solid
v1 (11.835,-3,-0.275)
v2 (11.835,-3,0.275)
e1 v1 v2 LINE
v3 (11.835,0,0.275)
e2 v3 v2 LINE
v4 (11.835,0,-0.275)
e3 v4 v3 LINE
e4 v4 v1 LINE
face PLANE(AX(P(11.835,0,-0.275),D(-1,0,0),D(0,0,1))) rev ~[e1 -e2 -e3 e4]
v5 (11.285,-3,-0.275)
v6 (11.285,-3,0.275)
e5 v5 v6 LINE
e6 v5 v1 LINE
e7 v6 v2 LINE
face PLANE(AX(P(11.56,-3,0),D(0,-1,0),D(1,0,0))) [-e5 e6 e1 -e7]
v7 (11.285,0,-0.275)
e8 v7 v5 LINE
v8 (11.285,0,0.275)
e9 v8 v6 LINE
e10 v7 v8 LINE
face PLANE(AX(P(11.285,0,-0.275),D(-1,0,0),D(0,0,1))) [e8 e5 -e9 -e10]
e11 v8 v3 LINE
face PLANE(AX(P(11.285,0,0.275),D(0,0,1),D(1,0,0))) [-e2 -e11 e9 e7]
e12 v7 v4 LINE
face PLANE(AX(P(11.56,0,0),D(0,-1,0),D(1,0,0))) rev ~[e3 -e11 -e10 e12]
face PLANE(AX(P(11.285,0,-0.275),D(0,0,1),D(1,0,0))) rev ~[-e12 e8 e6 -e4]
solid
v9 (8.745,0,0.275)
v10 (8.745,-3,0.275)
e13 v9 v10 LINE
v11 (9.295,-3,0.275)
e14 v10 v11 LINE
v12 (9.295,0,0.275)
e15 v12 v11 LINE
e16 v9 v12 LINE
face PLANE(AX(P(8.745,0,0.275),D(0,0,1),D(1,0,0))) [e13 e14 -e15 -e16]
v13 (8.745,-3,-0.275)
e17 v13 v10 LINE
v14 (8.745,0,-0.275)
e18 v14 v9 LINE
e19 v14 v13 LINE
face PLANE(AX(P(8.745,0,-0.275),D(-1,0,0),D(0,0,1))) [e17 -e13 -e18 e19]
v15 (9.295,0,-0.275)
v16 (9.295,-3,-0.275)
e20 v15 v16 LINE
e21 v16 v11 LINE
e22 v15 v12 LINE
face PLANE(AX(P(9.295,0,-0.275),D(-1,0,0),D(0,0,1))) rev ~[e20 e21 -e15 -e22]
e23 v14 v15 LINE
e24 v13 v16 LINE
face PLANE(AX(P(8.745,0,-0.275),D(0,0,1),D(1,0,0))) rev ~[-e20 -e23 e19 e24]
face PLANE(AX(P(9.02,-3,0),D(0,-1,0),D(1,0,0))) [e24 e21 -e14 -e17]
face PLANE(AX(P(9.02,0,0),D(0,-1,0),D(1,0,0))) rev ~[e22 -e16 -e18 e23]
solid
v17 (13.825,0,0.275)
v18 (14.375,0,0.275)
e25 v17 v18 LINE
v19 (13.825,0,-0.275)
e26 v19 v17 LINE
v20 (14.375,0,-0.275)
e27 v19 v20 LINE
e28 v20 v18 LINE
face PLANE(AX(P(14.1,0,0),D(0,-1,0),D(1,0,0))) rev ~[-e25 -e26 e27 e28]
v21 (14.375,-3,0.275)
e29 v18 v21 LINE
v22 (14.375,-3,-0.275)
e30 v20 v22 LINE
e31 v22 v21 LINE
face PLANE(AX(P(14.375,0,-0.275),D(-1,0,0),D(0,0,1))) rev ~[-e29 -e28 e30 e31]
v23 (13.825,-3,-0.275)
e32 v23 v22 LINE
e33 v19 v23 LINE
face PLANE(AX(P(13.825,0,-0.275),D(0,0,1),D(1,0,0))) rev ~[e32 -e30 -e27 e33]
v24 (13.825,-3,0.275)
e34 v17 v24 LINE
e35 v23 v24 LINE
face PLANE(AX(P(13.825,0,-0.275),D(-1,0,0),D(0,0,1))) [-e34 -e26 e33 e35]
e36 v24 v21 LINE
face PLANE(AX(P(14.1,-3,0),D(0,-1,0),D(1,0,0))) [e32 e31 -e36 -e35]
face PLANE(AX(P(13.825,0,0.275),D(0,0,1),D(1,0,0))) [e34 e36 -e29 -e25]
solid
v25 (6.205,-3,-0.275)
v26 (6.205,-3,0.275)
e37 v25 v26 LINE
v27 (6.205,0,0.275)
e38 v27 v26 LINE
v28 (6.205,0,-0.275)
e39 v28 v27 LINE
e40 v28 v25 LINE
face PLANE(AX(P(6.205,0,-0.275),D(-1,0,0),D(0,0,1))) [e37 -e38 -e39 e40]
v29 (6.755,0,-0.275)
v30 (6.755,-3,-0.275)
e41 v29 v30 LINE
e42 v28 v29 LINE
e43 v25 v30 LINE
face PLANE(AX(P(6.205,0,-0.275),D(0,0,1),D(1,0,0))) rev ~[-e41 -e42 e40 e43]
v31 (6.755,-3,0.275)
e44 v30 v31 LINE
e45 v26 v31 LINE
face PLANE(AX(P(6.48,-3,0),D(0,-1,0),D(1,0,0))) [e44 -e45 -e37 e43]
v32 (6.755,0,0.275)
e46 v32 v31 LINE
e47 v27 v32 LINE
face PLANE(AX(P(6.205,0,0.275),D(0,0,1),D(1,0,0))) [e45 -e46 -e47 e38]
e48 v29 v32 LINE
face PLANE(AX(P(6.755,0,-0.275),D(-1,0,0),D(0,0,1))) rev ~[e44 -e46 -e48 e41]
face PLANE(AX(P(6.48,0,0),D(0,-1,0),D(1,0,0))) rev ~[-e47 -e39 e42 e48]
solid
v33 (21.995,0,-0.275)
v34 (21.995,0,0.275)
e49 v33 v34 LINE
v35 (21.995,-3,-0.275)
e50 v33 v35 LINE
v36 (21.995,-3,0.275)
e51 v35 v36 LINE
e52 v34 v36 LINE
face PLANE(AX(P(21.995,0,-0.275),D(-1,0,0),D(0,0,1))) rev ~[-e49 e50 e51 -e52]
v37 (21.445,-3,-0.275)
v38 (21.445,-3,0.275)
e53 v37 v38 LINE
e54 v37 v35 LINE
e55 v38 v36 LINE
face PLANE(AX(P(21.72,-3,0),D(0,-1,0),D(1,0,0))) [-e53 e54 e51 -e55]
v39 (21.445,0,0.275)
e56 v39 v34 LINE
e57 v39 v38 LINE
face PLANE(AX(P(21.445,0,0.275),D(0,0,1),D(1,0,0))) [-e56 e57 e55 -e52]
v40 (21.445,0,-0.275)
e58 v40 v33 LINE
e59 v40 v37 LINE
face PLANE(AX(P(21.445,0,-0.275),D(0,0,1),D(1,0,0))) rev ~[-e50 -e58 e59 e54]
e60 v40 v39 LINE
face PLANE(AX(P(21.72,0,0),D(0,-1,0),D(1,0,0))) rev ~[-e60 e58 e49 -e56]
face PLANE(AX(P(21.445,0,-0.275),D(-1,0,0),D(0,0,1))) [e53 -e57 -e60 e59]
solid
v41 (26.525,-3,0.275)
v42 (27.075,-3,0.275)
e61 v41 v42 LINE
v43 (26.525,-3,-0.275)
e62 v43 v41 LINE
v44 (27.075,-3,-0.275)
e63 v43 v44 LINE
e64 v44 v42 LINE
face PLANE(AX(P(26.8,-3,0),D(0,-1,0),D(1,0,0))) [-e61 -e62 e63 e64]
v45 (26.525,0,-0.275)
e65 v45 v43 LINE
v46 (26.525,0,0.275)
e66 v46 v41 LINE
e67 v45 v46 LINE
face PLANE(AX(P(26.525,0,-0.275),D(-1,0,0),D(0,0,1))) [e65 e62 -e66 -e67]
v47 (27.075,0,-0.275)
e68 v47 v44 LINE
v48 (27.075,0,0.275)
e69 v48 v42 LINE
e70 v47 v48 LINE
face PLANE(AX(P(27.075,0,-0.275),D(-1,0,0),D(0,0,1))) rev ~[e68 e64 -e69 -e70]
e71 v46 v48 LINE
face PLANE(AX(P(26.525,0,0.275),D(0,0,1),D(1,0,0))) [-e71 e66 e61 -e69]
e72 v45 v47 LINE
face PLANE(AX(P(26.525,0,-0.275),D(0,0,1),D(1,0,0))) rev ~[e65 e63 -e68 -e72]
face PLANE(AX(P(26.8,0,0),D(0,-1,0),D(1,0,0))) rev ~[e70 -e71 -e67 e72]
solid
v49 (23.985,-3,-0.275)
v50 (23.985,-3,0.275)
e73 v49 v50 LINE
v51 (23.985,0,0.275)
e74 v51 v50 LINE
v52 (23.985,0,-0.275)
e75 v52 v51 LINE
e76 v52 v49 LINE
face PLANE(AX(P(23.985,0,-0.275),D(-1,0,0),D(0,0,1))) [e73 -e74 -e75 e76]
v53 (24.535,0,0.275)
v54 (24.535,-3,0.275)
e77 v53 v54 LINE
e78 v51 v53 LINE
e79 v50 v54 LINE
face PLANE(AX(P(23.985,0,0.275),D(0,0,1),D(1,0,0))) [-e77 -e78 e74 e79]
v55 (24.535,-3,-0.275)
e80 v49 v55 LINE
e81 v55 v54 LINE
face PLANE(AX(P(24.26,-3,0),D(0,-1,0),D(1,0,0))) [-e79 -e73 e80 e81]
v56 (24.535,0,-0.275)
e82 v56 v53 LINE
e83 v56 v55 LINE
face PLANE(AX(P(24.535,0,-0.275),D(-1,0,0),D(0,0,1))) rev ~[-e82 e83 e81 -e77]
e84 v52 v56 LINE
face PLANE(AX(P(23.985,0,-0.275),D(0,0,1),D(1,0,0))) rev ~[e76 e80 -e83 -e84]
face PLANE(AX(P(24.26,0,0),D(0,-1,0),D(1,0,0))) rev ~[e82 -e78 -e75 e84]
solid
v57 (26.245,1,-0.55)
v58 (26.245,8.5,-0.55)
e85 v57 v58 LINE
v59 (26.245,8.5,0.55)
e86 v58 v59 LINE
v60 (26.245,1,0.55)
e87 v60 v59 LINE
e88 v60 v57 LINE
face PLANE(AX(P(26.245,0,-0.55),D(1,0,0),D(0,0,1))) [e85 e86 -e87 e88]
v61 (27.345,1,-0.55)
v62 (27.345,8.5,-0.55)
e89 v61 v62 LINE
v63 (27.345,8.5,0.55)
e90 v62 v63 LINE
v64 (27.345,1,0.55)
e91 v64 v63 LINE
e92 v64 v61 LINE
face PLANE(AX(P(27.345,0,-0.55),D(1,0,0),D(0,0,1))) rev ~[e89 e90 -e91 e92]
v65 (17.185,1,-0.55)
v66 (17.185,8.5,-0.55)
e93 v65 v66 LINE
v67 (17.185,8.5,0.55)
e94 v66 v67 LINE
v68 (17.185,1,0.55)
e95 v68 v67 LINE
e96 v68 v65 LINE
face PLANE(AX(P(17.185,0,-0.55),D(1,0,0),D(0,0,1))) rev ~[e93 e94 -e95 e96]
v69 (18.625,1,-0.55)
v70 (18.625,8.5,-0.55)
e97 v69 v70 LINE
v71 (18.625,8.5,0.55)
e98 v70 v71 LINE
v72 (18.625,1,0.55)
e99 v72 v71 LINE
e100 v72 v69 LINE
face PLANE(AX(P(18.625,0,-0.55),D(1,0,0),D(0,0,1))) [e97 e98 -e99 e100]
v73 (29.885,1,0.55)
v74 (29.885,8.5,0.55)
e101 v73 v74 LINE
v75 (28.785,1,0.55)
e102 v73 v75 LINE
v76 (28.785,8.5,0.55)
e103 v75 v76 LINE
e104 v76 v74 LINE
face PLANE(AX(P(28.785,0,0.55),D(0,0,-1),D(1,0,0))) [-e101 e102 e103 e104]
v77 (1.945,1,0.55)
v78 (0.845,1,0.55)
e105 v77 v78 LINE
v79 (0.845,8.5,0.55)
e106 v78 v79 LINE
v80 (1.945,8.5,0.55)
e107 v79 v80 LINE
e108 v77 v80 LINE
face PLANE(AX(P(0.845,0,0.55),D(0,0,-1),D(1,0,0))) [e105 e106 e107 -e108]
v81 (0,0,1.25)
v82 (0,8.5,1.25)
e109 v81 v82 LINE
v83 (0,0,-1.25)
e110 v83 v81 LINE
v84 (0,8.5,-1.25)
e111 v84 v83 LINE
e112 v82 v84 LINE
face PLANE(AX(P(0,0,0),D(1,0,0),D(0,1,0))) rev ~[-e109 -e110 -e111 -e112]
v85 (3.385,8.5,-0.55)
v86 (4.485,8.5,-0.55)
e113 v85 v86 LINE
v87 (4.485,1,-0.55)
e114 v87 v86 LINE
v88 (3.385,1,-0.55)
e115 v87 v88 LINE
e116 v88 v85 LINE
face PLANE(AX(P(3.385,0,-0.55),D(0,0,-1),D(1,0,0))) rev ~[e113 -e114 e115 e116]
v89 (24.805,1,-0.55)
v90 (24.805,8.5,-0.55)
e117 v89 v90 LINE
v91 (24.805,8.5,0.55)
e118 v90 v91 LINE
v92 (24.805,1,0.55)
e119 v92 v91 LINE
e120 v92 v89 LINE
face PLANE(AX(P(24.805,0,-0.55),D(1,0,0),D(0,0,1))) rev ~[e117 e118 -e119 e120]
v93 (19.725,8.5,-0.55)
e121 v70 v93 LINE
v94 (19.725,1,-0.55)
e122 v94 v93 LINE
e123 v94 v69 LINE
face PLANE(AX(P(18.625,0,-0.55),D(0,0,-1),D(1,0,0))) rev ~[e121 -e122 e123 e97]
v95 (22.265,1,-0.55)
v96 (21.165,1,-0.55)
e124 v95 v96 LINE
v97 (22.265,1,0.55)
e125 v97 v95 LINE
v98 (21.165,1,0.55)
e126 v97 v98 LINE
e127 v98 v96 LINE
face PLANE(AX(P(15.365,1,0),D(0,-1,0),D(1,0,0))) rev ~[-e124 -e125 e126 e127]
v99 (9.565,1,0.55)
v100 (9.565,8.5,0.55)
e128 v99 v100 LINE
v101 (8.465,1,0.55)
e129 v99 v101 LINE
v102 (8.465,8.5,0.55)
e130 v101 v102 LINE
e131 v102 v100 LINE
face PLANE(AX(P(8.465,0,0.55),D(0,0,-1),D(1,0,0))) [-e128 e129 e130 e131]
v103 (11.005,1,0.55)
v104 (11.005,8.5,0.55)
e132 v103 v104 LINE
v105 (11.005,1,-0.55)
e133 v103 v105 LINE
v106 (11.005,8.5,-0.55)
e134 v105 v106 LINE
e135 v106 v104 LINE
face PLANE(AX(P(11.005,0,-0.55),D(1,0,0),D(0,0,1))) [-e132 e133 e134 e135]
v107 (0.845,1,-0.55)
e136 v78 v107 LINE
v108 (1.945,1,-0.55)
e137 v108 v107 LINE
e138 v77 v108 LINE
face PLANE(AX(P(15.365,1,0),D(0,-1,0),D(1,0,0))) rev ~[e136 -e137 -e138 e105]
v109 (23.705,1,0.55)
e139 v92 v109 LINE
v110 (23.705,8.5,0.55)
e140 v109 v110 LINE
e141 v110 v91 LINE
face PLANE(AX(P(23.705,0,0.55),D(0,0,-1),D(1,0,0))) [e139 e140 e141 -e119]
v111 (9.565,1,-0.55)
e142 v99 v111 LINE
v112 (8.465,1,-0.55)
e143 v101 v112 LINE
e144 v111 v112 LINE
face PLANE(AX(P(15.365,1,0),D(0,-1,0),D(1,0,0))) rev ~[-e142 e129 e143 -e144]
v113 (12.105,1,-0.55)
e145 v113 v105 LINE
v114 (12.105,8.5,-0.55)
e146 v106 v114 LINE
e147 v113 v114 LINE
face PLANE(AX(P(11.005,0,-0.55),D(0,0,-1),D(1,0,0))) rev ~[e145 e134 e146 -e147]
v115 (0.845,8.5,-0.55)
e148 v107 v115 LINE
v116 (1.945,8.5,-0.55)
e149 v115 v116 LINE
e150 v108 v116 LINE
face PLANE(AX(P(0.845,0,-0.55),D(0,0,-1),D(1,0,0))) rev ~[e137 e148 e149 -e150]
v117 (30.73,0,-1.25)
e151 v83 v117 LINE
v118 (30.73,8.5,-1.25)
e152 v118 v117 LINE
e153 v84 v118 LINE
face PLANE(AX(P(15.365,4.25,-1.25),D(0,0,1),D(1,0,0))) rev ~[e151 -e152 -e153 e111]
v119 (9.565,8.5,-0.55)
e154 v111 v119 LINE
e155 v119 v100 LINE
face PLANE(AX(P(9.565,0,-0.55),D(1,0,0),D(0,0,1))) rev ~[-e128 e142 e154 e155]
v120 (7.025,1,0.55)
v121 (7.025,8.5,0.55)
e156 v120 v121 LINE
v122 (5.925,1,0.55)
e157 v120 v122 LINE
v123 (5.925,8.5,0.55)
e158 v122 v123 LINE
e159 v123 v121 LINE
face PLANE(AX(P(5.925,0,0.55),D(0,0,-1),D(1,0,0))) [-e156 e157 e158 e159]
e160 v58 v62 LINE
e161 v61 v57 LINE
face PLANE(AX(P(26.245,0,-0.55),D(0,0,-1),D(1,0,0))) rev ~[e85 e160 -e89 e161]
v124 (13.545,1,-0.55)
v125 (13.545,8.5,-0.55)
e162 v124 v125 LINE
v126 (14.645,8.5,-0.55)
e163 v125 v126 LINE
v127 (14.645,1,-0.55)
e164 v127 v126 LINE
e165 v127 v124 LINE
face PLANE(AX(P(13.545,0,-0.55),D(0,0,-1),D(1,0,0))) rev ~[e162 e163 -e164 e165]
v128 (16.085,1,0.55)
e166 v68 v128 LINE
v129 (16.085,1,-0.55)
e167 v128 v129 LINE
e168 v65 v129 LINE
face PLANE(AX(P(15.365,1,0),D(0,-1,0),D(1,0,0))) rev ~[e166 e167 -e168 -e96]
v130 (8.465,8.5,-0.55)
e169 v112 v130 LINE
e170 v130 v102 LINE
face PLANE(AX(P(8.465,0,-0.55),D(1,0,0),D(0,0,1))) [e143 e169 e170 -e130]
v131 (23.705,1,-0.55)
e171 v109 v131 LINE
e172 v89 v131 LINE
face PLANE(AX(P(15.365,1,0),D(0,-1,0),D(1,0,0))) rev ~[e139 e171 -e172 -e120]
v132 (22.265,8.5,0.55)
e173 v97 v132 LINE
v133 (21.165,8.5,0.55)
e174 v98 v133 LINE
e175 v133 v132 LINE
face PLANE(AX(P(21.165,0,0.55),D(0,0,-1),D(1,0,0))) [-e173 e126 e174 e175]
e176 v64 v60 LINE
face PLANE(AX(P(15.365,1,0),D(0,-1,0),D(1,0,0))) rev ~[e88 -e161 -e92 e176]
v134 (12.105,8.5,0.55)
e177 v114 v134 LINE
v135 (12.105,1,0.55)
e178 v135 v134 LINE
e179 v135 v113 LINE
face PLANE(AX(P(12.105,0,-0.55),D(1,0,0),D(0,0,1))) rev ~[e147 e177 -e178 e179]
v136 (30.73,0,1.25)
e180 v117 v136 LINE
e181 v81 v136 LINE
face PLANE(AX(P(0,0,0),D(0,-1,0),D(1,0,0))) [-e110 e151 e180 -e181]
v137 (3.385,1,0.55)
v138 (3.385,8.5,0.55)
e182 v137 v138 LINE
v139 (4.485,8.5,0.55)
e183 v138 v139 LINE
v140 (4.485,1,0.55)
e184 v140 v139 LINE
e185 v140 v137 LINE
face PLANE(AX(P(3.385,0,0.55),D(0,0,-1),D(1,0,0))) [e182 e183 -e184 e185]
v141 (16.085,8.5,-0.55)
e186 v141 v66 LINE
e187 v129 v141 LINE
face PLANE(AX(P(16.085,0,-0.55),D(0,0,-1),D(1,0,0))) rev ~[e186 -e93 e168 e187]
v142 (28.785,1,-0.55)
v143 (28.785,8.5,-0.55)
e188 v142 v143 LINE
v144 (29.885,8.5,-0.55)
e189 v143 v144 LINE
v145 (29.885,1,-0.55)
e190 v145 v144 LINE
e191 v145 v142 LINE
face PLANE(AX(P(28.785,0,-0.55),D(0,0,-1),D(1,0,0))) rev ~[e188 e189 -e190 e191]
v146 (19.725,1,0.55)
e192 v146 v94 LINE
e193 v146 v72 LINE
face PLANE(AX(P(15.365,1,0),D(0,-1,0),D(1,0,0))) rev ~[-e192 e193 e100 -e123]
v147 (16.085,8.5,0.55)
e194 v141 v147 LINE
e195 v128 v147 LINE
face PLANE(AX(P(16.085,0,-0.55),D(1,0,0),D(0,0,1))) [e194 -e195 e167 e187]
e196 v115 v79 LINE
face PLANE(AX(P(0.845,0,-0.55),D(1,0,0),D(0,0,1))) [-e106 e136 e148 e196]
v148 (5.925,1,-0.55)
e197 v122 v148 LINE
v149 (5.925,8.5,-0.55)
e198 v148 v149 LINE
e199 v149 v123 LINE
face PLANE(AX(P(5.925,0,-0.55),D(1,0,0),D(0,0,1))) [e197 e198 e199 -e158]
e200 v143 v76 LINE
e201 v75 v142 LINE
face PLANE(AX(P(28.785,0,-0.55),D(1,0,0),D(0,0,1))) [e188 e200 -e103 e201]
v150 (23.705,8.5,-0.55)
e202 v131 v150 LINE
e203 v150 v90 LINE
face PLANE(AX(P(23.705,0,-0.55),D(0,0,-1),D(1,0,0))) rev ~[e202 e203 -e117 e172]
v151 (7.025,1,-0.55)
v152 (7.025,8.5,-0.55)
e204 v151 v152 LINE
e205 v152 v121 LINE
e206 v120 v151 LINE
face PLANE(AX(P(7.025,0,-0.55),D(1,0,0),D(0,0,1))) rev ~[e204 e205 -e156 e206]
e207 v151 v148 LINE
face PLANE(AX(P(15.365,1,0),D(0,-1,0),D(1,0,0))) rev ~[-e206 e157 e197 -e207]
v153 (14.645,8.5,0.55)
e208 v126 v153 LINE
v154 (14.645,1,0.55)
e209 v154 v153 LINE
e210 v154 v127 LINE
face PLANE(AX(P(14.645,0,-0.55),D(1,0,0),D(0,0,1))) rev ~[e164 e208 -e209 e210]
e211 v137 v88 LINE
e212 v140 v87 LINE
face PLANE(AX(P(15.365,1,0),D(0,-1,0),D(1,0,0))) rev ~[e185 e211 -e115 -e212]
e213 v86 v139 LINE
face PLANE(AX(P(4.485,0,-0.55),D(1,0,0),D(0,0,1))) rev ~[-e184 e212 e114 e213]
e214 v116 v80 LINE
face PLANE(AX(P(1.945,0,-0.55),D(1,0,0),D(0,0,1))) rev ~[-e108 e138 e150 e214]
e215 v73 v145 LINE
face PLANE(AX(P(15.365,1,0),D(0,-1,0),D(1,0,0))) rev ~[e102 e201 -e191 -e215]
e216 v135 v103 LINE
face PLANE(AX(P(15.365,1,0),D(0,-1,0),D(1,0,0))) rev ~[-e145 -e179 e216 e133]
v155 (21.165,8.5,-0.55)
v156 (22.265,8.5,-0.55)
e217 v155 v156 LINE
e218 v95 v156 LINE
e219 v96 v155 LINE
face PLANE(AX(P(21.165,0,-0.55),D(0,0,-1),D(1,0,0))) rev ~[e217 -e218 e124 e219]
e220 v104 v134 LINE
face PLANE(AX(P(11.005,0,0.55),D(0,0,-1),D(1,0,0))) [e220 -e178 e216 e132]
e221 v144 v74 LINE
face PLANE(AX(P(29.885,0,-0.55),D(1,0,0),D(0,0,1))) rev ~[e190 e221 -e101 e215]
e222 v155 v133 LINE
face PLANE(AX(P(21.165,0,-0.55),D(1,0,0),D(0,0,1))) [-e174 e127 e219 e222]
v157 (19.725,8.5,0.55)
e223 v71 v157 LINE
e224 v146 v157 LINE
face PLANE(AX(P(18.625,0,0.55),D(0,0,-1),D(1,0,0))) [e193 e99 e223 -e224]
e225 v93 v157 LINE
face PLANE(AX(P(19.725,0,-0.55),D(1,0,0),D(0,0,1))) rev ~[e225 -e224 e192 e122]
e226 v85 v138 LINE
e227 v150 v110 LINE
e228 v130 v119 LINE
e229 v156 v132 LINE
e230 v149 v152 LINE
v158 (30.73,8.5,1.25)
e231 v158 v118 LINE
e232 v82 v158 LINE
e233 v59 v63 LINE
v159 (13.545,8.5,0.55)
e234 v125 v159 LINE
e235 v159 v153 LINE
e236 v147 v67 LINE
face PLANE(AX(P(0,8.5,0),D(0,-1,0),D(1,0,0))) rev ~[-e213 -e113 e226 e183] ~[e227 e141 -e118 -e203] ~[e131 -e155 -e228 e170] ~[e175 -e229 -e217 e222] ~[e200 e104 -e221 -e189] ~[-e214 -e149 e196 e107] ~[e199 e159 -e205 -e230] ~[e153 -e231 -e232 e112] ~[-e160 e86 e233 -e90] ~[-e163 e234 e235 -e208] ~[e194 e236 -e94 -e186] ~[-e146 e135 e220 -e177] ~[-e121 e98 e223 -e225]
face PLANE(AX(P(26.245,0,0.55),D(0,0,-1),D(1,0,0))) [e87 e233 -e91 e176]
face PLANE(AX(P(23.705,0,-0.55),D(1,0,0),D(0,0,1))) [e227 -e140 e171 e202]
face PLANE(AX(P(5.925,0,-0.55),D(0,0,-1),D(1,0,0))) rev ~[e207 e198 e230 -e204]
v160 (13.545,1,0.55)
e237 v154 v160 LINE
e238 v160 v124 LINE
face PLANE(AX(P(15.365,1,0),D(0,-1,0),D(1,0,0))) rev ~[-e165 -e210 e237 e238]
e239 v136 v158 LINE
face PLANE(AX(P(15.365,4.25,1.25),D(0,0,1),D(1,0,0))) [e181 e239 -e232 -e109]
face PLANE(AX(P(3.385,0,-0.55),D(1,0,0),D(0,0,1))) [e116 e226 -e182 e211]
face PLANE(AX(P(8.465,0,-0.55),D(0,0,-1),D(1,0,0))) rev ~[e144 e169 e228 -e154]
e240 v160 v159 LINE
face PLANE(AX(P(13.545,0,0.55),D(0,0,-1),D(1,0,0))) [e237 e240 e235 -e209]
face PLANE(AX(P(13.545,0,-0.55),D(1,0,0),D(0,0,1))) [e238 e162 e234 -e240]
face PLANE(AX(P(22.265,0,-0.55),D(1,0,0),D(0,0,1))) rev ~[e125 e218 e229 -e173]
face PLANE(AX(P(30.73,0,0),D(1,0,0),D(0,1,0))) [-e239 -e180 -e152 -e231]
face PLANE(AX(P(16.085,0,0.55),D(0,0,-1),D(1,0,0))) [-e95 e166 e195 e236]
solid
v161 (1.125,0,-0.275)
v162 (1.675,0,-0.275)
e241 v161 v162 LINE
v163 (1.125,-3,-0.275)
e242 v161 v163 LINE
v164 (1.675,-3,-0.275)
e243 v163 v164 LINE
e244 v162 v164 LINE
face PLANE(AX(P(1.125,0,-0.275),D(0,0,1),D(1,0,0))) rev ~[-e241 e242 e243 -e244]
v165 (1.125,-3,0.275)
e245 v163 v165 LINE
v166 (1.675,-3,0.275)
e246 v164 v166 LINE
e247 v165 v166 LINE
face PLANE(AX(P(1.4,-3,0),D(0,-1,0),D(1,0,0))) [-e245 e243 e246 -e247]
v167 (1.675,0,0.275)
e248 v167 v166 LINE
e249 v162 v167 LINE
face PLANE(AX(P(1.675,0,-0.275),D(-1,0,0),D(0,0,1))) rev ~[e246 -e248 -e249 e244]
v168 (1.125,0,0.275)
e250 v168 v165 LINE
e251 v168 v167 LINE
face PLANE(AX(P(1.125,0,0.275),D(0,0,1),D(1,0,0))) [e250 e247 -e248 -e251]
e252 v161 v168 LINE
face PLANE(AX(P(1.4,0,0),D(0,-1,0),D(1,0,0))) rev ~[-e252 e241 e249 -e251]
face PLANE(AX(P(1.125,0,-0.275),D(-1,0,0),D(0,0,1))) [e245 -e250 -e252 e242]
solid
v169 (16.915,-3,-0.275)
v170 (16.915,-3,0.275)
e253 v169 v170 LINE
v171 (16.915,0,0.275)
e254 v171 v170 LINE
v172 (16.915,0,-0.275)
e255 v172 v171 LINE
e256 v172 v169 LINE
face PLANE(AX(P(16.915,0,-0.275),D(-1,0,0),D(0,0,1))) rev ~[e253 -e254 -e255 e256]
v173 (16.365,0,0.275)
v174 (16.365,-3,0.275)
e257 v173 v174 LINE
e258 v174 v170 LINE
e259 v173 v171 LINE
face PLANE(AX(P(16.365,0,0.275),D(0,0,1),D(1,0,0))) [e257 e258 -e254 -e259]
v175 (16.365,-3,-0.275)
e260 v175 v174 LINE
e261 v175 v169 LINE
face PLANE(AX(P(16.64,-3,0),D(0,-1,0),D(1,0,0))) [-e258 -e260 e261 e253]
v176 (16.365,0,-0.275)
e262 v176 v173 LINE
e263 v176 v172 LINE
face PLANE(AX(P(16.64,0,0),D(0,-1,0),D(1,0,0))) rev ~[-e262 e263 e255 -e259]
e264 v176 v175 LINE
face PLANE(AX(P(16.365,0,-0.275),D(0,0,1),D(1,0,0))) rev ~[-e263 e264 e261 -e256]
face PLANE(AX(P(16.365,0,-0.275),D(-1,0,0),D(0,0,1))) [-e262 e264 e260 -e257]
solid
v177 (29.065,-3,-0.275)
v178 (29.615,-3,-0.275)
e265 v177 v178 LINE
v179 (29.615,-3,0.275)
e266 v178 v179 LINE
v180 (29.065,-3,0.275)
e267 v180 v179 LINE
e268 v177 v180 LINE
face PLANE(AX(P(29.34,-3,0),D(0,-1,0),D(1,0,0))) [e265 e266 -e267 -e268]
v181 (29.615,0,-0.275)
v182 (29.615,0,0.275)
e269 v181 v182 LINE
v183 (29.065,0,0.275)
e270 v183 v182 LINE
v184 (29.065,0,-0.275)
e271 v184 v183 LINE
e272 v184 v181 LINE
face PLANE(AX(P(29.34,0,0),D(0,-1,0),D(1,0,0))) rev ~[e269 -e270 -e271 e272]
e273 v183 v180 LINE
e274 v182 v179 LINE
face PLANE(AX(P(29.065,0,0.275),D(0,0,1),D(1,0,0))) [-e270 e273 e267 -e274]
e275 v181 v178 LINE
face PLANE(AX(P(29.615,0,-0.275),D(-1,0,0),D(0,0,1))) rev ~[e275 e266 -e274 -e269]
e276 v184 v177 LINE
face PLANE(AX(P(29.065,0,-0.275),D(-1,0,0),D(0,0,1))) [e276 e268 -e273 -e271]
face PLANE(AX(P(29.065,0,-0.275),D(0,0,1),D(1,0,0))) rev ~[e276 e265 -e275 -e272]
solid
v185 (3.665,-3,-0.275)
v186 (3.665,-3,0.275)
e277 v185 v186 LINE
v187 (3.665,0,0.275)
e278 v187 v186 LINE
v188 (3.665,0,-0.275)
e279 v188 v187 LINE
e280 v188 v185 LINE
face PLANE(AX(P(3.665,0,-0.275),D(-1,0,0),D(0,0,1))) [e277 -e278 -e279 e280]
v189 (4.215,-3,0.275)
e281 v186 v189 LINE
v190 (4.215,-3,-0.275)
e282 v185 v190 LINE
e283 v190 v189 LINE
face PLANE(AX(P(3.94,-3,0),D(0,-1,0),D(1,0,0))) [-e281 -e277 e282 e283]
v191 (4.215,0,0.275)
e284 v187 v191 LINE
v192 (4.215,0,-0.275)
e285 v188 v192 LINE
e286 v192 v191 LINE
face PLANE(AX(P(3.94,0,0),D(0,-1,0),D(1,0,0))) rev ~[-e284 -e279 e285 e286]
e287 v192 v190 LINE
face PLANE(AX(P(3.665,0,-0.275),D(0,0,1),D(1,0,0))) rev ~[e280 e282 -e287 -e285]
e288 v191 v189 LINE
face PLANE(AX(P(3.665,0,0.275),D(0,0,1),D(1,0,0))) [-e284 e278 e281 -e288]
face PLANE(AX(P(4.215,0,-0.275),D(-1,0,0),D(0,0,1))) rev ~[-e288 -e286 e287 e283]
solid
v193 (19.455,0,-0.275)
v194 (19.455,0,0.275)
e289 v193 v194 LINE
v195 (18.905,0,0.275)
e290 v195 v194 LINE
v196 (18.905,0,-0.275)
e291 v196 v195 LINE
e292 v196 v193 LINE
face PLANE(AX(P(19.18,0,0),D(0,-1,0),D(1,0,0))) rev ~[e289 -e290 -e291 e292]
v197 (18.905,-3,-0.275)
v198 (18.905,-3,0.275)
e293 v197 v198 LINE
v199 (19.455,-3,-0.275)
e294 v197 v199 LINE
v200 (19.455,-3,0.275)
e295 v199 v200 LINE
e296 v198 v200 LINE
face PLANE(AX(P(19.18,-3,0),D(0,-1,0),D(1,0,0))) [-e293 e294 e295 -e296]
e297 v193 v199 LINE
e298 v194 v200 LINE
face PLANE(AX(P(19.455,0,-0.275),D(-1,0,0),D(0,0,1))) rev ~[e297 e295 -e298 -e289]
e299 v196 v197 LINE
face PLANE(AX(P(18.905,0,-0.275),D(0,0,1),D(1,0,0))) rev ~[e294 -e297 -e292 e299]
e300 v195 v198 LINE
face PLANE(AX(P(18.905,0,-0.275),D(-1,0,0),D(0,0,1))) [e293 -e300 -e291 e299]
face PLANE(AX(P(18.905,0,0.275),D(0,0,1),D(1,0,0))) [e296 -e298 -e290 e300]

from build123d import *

# Parameters (mm, degrees)
SKETCH1_W              = 30.73
SKETCH1_H              = 8.5
BOSS_EXTRUDE1_DEPTH    = 1.25
SKETCH2_W              = 1.1
SKETCH2_H              = 1.1
CUT_EXTRUDE1_DEPTH     = 9.5
SKETCH3_W              = 30.73
SKETCH3_H              = 2.5
BOSS_EXTRUDE2_DEPTH    = 1
SKETCH4_W              = 0.55
SKETCH4_H              = 0.55
BOSS_EXTRUDE3_DEPTH    = 3
BOSS_EXTRUDE3_2_DEPTH  = 3
BOSS_EXTRUDE3_3_DEPTH  = 3
BOSS_EXTRUDE3_4_DEPTH  = 3
BOSS_EXTRUDE3_5_DEPTH  = 3
BOSS_EXTRUDE3_6_DEPTH  = 3
BOSS_EXTRUDE3_7_DEPTH  = 3
BOSS_EXTRUDE3_8_DEPTH  = 3
BOSS_EXTRUDE3_9_DEPTH  = 3
BOSS_EXTRUDE3_10_DEPTH = 3
BOSS_EXTRUDE3_11_DEPTH = 3
BOSS_EXTRUDE3_12_DEPTH = 3


with BuildPart() as part:
    # Sketch1 → Boss-Extrude1 (new body, symmetric)
    with BuildSketch(Plane.XY):
        with Locations((15.365, 4.25)):
            Rectangle(SKETCH1_W, SKETCH1_H)
    extrude(amount=BOSS_EXTRUDE1_DEPTH, both=True)

    # Sketch2 → Cut-Extrude1 (cut, through all)
    with BuildSketch(Plane.XZ):
        with Locations((3.935, 0)):
            Rectangle(SKETCH2_W, SKETCH2_H)
        with Locations((1.395, 0)):
            Rectangle(SKETCH2_W, SKETCH2_H)
        with Locations((6.475, 0)):
            Rectangle(SKETCH2_W, SKETCH2_H)
        with Locations((9.015, 0)):
            Rectangle(SKETCH2_W, SKETCH2_H)
        with Locations((11.555, 0)):
            Rectangle(SKETCH2_W, SKETCH2_H)
        with Locations((14.095, 0)):
            Rectangle(SKETCH2_W, SKETCH2_H)
        with Locations((16.635, 0)):
            Rectangle(SKETCH2_W, SKETCH2_H)
        with Locations((19.175, 0)):
            Rectangle(SKETCH2_W, SKETCH2_H)
        with Locations((21.715, 0)):
            Rectangle(SKETCH2_W, SKETCH2_H)
        with Locations((24.255, 0)):
            Rectangle(SKETCH2_W, SKETCH2_H)
        with Locations((26.795, 0)):
            Rectangle(SKETCH2_W, SKETCH2_H)
        with Locations((29.335, 0)):
            Rectangle(SKETCH2_W, SKETCH2_H)
    extrude(amount=-CUT_EXTRUDE1_DEPTH, mode=Mode.SUBTRACT)

    # Sketch3 → Boss-Extrude2 (add)
    with BuildSketch(Plane.XZ):
        with Locations((15.365, 0)):
            Rectangle(SKETCH3_W, SKETCH3_H)
    extrude(amount=-BOSS_EXTRUDE2_DEPTH)


with BuildPart() as body_2:
    # Sketch4 → Boss-Extrude3 (new body)
    with BuildSketch(Plane.XZ):
        with Locations((1.4, 0)):
            Rectangle(SKETCH4_W, SKETCH4_H)
    extrude(amount=BOSS_EXTRUDE3_DEPTH)


with BuildPart() as body_3:
    # Sketch4 → Boss-Extrude3 2 (new body)
    with BuildSketch(Plane.XZ):
        with Locations((3.94, 0)):
            Rectangle(SKETCH4_W, SKETCH4_H)
    extrude(amount=BOSS_EXTRUDE3_2_DEPTH)


with BuildPart() as body_4:
    # Sketch4 → Boss-Extrude3 3 (new body)
    with BuildSketch(Plane.XZ):
        with Locations((6.48, 0)):
            Rectangle(SKETCH4_W, SKETCH4_H)
    extrude(amount=BOSS_EXTRUDE3_3_DEPTH)


with BuildPart() as body_5:
    # Sketch4 → Boss-Extrude3 4 (new body)
    with BuildSketch(Plane.XZ):
        with Locations((9.02, 0)):
            Rectangle(SKETCH4_W, SKETCH4_H)
    extrude(amount=BOSS_EXTRUDE3_4_DEPTH)


with BuildPart() as body_6:
    # Sketch4 → Boss-Extrude3 5 (new body)
    with BuildSketch(Plane.XZ):
        with Locations((11.56, 0)):
            Rectangle(SKETCH4_W, SKETCH4_H)
    extrude(amount=BOSS_EXTRUDE3_5_DEPTH)


with BuildPart() as body_7:
    # Sketch4 → Boss-Extrude3 6 (new body)
    with BuildSketch(Plane.XZ):
        with Locations((14.1, 0)):
            Rectangle(SKETCH4_W, SKETCH4_H)
    extrude(amount=BOSS_EXTRUDE3_6_DEPTH)


with BuildPart() as body_8:
    # Sketch4 → Boss-Extrude3 7 (new body)
    with BuildSketch(Plane.XZ):
        with Locations((16.64, 0)):
            Rectangle(SKETCH4_W, SKETCH4_H)
    extrude(amount=BOSS_EXTRUDE3_7_DEPTH)


with BuildPart() as body_9:
    # Sketch4 → Boss-Extrude3 8 (new body)
    with BuildSketch(Plane.XZ):
        with Locations((19.18, 0)):
            Rectangle(SKETCH4_W, SKETCH4_H)
    extrude(amount=BOSS_EXTRUDE3_8_DEPTH)


with BuildPart() as body_10:
    # Sketch4 → Boss-Extrude3 9 (new body)
    with BuildSketch(Plane.XZ):
        with Locations((21.72, 0)):
            Rectangle(SKETCH4_W, SKETCH4_H)
    extrude(amount=BOSS_EXTRUDE3_9_DEPTH)


with BuildPart() as body_11:
    # Sketch4 → Boss-Extrude3 10 (new body)
    with BuildSketch(Plane.XZ):
        with Locations((24.26, 0)):
            Rectangle(SKETCH4_W, SKETCH4_H)
    extrude(amount=BOSS_EXTRUDE3_10_DEPTH)


with BuildPart() as body_12:
    # Sketch4 → Boss-Extrude3 11 (new body)
    with BuildSketch(Plane.XZ):
        with Locations((26.8, 0)):
            Rectangle(SKETCH4_W, SKETCH4_H)
    extrude(amount=BOSS_EXTRUDE3_11_DEPTH)


with BuildPart() as body_13:
    # Sketch4 → Boss-Extrude3 12 (new body)
    with BuildSketch(Plane.XZ):
        with Locations((29.34, 0)):
            Rectangle(SKETCH4_W, SKETCH4_H)
    extrude(amount=BOSS_EXTRUDE3_12_DEPTH)


solid = Compound([part.part, body_2.part, body_3.part, body_4.part, body_5.part, body_6.part, body_7.part, body_8.part, body_9.part, body_10.part, body_11.part, body_12.part, body_13.part])
